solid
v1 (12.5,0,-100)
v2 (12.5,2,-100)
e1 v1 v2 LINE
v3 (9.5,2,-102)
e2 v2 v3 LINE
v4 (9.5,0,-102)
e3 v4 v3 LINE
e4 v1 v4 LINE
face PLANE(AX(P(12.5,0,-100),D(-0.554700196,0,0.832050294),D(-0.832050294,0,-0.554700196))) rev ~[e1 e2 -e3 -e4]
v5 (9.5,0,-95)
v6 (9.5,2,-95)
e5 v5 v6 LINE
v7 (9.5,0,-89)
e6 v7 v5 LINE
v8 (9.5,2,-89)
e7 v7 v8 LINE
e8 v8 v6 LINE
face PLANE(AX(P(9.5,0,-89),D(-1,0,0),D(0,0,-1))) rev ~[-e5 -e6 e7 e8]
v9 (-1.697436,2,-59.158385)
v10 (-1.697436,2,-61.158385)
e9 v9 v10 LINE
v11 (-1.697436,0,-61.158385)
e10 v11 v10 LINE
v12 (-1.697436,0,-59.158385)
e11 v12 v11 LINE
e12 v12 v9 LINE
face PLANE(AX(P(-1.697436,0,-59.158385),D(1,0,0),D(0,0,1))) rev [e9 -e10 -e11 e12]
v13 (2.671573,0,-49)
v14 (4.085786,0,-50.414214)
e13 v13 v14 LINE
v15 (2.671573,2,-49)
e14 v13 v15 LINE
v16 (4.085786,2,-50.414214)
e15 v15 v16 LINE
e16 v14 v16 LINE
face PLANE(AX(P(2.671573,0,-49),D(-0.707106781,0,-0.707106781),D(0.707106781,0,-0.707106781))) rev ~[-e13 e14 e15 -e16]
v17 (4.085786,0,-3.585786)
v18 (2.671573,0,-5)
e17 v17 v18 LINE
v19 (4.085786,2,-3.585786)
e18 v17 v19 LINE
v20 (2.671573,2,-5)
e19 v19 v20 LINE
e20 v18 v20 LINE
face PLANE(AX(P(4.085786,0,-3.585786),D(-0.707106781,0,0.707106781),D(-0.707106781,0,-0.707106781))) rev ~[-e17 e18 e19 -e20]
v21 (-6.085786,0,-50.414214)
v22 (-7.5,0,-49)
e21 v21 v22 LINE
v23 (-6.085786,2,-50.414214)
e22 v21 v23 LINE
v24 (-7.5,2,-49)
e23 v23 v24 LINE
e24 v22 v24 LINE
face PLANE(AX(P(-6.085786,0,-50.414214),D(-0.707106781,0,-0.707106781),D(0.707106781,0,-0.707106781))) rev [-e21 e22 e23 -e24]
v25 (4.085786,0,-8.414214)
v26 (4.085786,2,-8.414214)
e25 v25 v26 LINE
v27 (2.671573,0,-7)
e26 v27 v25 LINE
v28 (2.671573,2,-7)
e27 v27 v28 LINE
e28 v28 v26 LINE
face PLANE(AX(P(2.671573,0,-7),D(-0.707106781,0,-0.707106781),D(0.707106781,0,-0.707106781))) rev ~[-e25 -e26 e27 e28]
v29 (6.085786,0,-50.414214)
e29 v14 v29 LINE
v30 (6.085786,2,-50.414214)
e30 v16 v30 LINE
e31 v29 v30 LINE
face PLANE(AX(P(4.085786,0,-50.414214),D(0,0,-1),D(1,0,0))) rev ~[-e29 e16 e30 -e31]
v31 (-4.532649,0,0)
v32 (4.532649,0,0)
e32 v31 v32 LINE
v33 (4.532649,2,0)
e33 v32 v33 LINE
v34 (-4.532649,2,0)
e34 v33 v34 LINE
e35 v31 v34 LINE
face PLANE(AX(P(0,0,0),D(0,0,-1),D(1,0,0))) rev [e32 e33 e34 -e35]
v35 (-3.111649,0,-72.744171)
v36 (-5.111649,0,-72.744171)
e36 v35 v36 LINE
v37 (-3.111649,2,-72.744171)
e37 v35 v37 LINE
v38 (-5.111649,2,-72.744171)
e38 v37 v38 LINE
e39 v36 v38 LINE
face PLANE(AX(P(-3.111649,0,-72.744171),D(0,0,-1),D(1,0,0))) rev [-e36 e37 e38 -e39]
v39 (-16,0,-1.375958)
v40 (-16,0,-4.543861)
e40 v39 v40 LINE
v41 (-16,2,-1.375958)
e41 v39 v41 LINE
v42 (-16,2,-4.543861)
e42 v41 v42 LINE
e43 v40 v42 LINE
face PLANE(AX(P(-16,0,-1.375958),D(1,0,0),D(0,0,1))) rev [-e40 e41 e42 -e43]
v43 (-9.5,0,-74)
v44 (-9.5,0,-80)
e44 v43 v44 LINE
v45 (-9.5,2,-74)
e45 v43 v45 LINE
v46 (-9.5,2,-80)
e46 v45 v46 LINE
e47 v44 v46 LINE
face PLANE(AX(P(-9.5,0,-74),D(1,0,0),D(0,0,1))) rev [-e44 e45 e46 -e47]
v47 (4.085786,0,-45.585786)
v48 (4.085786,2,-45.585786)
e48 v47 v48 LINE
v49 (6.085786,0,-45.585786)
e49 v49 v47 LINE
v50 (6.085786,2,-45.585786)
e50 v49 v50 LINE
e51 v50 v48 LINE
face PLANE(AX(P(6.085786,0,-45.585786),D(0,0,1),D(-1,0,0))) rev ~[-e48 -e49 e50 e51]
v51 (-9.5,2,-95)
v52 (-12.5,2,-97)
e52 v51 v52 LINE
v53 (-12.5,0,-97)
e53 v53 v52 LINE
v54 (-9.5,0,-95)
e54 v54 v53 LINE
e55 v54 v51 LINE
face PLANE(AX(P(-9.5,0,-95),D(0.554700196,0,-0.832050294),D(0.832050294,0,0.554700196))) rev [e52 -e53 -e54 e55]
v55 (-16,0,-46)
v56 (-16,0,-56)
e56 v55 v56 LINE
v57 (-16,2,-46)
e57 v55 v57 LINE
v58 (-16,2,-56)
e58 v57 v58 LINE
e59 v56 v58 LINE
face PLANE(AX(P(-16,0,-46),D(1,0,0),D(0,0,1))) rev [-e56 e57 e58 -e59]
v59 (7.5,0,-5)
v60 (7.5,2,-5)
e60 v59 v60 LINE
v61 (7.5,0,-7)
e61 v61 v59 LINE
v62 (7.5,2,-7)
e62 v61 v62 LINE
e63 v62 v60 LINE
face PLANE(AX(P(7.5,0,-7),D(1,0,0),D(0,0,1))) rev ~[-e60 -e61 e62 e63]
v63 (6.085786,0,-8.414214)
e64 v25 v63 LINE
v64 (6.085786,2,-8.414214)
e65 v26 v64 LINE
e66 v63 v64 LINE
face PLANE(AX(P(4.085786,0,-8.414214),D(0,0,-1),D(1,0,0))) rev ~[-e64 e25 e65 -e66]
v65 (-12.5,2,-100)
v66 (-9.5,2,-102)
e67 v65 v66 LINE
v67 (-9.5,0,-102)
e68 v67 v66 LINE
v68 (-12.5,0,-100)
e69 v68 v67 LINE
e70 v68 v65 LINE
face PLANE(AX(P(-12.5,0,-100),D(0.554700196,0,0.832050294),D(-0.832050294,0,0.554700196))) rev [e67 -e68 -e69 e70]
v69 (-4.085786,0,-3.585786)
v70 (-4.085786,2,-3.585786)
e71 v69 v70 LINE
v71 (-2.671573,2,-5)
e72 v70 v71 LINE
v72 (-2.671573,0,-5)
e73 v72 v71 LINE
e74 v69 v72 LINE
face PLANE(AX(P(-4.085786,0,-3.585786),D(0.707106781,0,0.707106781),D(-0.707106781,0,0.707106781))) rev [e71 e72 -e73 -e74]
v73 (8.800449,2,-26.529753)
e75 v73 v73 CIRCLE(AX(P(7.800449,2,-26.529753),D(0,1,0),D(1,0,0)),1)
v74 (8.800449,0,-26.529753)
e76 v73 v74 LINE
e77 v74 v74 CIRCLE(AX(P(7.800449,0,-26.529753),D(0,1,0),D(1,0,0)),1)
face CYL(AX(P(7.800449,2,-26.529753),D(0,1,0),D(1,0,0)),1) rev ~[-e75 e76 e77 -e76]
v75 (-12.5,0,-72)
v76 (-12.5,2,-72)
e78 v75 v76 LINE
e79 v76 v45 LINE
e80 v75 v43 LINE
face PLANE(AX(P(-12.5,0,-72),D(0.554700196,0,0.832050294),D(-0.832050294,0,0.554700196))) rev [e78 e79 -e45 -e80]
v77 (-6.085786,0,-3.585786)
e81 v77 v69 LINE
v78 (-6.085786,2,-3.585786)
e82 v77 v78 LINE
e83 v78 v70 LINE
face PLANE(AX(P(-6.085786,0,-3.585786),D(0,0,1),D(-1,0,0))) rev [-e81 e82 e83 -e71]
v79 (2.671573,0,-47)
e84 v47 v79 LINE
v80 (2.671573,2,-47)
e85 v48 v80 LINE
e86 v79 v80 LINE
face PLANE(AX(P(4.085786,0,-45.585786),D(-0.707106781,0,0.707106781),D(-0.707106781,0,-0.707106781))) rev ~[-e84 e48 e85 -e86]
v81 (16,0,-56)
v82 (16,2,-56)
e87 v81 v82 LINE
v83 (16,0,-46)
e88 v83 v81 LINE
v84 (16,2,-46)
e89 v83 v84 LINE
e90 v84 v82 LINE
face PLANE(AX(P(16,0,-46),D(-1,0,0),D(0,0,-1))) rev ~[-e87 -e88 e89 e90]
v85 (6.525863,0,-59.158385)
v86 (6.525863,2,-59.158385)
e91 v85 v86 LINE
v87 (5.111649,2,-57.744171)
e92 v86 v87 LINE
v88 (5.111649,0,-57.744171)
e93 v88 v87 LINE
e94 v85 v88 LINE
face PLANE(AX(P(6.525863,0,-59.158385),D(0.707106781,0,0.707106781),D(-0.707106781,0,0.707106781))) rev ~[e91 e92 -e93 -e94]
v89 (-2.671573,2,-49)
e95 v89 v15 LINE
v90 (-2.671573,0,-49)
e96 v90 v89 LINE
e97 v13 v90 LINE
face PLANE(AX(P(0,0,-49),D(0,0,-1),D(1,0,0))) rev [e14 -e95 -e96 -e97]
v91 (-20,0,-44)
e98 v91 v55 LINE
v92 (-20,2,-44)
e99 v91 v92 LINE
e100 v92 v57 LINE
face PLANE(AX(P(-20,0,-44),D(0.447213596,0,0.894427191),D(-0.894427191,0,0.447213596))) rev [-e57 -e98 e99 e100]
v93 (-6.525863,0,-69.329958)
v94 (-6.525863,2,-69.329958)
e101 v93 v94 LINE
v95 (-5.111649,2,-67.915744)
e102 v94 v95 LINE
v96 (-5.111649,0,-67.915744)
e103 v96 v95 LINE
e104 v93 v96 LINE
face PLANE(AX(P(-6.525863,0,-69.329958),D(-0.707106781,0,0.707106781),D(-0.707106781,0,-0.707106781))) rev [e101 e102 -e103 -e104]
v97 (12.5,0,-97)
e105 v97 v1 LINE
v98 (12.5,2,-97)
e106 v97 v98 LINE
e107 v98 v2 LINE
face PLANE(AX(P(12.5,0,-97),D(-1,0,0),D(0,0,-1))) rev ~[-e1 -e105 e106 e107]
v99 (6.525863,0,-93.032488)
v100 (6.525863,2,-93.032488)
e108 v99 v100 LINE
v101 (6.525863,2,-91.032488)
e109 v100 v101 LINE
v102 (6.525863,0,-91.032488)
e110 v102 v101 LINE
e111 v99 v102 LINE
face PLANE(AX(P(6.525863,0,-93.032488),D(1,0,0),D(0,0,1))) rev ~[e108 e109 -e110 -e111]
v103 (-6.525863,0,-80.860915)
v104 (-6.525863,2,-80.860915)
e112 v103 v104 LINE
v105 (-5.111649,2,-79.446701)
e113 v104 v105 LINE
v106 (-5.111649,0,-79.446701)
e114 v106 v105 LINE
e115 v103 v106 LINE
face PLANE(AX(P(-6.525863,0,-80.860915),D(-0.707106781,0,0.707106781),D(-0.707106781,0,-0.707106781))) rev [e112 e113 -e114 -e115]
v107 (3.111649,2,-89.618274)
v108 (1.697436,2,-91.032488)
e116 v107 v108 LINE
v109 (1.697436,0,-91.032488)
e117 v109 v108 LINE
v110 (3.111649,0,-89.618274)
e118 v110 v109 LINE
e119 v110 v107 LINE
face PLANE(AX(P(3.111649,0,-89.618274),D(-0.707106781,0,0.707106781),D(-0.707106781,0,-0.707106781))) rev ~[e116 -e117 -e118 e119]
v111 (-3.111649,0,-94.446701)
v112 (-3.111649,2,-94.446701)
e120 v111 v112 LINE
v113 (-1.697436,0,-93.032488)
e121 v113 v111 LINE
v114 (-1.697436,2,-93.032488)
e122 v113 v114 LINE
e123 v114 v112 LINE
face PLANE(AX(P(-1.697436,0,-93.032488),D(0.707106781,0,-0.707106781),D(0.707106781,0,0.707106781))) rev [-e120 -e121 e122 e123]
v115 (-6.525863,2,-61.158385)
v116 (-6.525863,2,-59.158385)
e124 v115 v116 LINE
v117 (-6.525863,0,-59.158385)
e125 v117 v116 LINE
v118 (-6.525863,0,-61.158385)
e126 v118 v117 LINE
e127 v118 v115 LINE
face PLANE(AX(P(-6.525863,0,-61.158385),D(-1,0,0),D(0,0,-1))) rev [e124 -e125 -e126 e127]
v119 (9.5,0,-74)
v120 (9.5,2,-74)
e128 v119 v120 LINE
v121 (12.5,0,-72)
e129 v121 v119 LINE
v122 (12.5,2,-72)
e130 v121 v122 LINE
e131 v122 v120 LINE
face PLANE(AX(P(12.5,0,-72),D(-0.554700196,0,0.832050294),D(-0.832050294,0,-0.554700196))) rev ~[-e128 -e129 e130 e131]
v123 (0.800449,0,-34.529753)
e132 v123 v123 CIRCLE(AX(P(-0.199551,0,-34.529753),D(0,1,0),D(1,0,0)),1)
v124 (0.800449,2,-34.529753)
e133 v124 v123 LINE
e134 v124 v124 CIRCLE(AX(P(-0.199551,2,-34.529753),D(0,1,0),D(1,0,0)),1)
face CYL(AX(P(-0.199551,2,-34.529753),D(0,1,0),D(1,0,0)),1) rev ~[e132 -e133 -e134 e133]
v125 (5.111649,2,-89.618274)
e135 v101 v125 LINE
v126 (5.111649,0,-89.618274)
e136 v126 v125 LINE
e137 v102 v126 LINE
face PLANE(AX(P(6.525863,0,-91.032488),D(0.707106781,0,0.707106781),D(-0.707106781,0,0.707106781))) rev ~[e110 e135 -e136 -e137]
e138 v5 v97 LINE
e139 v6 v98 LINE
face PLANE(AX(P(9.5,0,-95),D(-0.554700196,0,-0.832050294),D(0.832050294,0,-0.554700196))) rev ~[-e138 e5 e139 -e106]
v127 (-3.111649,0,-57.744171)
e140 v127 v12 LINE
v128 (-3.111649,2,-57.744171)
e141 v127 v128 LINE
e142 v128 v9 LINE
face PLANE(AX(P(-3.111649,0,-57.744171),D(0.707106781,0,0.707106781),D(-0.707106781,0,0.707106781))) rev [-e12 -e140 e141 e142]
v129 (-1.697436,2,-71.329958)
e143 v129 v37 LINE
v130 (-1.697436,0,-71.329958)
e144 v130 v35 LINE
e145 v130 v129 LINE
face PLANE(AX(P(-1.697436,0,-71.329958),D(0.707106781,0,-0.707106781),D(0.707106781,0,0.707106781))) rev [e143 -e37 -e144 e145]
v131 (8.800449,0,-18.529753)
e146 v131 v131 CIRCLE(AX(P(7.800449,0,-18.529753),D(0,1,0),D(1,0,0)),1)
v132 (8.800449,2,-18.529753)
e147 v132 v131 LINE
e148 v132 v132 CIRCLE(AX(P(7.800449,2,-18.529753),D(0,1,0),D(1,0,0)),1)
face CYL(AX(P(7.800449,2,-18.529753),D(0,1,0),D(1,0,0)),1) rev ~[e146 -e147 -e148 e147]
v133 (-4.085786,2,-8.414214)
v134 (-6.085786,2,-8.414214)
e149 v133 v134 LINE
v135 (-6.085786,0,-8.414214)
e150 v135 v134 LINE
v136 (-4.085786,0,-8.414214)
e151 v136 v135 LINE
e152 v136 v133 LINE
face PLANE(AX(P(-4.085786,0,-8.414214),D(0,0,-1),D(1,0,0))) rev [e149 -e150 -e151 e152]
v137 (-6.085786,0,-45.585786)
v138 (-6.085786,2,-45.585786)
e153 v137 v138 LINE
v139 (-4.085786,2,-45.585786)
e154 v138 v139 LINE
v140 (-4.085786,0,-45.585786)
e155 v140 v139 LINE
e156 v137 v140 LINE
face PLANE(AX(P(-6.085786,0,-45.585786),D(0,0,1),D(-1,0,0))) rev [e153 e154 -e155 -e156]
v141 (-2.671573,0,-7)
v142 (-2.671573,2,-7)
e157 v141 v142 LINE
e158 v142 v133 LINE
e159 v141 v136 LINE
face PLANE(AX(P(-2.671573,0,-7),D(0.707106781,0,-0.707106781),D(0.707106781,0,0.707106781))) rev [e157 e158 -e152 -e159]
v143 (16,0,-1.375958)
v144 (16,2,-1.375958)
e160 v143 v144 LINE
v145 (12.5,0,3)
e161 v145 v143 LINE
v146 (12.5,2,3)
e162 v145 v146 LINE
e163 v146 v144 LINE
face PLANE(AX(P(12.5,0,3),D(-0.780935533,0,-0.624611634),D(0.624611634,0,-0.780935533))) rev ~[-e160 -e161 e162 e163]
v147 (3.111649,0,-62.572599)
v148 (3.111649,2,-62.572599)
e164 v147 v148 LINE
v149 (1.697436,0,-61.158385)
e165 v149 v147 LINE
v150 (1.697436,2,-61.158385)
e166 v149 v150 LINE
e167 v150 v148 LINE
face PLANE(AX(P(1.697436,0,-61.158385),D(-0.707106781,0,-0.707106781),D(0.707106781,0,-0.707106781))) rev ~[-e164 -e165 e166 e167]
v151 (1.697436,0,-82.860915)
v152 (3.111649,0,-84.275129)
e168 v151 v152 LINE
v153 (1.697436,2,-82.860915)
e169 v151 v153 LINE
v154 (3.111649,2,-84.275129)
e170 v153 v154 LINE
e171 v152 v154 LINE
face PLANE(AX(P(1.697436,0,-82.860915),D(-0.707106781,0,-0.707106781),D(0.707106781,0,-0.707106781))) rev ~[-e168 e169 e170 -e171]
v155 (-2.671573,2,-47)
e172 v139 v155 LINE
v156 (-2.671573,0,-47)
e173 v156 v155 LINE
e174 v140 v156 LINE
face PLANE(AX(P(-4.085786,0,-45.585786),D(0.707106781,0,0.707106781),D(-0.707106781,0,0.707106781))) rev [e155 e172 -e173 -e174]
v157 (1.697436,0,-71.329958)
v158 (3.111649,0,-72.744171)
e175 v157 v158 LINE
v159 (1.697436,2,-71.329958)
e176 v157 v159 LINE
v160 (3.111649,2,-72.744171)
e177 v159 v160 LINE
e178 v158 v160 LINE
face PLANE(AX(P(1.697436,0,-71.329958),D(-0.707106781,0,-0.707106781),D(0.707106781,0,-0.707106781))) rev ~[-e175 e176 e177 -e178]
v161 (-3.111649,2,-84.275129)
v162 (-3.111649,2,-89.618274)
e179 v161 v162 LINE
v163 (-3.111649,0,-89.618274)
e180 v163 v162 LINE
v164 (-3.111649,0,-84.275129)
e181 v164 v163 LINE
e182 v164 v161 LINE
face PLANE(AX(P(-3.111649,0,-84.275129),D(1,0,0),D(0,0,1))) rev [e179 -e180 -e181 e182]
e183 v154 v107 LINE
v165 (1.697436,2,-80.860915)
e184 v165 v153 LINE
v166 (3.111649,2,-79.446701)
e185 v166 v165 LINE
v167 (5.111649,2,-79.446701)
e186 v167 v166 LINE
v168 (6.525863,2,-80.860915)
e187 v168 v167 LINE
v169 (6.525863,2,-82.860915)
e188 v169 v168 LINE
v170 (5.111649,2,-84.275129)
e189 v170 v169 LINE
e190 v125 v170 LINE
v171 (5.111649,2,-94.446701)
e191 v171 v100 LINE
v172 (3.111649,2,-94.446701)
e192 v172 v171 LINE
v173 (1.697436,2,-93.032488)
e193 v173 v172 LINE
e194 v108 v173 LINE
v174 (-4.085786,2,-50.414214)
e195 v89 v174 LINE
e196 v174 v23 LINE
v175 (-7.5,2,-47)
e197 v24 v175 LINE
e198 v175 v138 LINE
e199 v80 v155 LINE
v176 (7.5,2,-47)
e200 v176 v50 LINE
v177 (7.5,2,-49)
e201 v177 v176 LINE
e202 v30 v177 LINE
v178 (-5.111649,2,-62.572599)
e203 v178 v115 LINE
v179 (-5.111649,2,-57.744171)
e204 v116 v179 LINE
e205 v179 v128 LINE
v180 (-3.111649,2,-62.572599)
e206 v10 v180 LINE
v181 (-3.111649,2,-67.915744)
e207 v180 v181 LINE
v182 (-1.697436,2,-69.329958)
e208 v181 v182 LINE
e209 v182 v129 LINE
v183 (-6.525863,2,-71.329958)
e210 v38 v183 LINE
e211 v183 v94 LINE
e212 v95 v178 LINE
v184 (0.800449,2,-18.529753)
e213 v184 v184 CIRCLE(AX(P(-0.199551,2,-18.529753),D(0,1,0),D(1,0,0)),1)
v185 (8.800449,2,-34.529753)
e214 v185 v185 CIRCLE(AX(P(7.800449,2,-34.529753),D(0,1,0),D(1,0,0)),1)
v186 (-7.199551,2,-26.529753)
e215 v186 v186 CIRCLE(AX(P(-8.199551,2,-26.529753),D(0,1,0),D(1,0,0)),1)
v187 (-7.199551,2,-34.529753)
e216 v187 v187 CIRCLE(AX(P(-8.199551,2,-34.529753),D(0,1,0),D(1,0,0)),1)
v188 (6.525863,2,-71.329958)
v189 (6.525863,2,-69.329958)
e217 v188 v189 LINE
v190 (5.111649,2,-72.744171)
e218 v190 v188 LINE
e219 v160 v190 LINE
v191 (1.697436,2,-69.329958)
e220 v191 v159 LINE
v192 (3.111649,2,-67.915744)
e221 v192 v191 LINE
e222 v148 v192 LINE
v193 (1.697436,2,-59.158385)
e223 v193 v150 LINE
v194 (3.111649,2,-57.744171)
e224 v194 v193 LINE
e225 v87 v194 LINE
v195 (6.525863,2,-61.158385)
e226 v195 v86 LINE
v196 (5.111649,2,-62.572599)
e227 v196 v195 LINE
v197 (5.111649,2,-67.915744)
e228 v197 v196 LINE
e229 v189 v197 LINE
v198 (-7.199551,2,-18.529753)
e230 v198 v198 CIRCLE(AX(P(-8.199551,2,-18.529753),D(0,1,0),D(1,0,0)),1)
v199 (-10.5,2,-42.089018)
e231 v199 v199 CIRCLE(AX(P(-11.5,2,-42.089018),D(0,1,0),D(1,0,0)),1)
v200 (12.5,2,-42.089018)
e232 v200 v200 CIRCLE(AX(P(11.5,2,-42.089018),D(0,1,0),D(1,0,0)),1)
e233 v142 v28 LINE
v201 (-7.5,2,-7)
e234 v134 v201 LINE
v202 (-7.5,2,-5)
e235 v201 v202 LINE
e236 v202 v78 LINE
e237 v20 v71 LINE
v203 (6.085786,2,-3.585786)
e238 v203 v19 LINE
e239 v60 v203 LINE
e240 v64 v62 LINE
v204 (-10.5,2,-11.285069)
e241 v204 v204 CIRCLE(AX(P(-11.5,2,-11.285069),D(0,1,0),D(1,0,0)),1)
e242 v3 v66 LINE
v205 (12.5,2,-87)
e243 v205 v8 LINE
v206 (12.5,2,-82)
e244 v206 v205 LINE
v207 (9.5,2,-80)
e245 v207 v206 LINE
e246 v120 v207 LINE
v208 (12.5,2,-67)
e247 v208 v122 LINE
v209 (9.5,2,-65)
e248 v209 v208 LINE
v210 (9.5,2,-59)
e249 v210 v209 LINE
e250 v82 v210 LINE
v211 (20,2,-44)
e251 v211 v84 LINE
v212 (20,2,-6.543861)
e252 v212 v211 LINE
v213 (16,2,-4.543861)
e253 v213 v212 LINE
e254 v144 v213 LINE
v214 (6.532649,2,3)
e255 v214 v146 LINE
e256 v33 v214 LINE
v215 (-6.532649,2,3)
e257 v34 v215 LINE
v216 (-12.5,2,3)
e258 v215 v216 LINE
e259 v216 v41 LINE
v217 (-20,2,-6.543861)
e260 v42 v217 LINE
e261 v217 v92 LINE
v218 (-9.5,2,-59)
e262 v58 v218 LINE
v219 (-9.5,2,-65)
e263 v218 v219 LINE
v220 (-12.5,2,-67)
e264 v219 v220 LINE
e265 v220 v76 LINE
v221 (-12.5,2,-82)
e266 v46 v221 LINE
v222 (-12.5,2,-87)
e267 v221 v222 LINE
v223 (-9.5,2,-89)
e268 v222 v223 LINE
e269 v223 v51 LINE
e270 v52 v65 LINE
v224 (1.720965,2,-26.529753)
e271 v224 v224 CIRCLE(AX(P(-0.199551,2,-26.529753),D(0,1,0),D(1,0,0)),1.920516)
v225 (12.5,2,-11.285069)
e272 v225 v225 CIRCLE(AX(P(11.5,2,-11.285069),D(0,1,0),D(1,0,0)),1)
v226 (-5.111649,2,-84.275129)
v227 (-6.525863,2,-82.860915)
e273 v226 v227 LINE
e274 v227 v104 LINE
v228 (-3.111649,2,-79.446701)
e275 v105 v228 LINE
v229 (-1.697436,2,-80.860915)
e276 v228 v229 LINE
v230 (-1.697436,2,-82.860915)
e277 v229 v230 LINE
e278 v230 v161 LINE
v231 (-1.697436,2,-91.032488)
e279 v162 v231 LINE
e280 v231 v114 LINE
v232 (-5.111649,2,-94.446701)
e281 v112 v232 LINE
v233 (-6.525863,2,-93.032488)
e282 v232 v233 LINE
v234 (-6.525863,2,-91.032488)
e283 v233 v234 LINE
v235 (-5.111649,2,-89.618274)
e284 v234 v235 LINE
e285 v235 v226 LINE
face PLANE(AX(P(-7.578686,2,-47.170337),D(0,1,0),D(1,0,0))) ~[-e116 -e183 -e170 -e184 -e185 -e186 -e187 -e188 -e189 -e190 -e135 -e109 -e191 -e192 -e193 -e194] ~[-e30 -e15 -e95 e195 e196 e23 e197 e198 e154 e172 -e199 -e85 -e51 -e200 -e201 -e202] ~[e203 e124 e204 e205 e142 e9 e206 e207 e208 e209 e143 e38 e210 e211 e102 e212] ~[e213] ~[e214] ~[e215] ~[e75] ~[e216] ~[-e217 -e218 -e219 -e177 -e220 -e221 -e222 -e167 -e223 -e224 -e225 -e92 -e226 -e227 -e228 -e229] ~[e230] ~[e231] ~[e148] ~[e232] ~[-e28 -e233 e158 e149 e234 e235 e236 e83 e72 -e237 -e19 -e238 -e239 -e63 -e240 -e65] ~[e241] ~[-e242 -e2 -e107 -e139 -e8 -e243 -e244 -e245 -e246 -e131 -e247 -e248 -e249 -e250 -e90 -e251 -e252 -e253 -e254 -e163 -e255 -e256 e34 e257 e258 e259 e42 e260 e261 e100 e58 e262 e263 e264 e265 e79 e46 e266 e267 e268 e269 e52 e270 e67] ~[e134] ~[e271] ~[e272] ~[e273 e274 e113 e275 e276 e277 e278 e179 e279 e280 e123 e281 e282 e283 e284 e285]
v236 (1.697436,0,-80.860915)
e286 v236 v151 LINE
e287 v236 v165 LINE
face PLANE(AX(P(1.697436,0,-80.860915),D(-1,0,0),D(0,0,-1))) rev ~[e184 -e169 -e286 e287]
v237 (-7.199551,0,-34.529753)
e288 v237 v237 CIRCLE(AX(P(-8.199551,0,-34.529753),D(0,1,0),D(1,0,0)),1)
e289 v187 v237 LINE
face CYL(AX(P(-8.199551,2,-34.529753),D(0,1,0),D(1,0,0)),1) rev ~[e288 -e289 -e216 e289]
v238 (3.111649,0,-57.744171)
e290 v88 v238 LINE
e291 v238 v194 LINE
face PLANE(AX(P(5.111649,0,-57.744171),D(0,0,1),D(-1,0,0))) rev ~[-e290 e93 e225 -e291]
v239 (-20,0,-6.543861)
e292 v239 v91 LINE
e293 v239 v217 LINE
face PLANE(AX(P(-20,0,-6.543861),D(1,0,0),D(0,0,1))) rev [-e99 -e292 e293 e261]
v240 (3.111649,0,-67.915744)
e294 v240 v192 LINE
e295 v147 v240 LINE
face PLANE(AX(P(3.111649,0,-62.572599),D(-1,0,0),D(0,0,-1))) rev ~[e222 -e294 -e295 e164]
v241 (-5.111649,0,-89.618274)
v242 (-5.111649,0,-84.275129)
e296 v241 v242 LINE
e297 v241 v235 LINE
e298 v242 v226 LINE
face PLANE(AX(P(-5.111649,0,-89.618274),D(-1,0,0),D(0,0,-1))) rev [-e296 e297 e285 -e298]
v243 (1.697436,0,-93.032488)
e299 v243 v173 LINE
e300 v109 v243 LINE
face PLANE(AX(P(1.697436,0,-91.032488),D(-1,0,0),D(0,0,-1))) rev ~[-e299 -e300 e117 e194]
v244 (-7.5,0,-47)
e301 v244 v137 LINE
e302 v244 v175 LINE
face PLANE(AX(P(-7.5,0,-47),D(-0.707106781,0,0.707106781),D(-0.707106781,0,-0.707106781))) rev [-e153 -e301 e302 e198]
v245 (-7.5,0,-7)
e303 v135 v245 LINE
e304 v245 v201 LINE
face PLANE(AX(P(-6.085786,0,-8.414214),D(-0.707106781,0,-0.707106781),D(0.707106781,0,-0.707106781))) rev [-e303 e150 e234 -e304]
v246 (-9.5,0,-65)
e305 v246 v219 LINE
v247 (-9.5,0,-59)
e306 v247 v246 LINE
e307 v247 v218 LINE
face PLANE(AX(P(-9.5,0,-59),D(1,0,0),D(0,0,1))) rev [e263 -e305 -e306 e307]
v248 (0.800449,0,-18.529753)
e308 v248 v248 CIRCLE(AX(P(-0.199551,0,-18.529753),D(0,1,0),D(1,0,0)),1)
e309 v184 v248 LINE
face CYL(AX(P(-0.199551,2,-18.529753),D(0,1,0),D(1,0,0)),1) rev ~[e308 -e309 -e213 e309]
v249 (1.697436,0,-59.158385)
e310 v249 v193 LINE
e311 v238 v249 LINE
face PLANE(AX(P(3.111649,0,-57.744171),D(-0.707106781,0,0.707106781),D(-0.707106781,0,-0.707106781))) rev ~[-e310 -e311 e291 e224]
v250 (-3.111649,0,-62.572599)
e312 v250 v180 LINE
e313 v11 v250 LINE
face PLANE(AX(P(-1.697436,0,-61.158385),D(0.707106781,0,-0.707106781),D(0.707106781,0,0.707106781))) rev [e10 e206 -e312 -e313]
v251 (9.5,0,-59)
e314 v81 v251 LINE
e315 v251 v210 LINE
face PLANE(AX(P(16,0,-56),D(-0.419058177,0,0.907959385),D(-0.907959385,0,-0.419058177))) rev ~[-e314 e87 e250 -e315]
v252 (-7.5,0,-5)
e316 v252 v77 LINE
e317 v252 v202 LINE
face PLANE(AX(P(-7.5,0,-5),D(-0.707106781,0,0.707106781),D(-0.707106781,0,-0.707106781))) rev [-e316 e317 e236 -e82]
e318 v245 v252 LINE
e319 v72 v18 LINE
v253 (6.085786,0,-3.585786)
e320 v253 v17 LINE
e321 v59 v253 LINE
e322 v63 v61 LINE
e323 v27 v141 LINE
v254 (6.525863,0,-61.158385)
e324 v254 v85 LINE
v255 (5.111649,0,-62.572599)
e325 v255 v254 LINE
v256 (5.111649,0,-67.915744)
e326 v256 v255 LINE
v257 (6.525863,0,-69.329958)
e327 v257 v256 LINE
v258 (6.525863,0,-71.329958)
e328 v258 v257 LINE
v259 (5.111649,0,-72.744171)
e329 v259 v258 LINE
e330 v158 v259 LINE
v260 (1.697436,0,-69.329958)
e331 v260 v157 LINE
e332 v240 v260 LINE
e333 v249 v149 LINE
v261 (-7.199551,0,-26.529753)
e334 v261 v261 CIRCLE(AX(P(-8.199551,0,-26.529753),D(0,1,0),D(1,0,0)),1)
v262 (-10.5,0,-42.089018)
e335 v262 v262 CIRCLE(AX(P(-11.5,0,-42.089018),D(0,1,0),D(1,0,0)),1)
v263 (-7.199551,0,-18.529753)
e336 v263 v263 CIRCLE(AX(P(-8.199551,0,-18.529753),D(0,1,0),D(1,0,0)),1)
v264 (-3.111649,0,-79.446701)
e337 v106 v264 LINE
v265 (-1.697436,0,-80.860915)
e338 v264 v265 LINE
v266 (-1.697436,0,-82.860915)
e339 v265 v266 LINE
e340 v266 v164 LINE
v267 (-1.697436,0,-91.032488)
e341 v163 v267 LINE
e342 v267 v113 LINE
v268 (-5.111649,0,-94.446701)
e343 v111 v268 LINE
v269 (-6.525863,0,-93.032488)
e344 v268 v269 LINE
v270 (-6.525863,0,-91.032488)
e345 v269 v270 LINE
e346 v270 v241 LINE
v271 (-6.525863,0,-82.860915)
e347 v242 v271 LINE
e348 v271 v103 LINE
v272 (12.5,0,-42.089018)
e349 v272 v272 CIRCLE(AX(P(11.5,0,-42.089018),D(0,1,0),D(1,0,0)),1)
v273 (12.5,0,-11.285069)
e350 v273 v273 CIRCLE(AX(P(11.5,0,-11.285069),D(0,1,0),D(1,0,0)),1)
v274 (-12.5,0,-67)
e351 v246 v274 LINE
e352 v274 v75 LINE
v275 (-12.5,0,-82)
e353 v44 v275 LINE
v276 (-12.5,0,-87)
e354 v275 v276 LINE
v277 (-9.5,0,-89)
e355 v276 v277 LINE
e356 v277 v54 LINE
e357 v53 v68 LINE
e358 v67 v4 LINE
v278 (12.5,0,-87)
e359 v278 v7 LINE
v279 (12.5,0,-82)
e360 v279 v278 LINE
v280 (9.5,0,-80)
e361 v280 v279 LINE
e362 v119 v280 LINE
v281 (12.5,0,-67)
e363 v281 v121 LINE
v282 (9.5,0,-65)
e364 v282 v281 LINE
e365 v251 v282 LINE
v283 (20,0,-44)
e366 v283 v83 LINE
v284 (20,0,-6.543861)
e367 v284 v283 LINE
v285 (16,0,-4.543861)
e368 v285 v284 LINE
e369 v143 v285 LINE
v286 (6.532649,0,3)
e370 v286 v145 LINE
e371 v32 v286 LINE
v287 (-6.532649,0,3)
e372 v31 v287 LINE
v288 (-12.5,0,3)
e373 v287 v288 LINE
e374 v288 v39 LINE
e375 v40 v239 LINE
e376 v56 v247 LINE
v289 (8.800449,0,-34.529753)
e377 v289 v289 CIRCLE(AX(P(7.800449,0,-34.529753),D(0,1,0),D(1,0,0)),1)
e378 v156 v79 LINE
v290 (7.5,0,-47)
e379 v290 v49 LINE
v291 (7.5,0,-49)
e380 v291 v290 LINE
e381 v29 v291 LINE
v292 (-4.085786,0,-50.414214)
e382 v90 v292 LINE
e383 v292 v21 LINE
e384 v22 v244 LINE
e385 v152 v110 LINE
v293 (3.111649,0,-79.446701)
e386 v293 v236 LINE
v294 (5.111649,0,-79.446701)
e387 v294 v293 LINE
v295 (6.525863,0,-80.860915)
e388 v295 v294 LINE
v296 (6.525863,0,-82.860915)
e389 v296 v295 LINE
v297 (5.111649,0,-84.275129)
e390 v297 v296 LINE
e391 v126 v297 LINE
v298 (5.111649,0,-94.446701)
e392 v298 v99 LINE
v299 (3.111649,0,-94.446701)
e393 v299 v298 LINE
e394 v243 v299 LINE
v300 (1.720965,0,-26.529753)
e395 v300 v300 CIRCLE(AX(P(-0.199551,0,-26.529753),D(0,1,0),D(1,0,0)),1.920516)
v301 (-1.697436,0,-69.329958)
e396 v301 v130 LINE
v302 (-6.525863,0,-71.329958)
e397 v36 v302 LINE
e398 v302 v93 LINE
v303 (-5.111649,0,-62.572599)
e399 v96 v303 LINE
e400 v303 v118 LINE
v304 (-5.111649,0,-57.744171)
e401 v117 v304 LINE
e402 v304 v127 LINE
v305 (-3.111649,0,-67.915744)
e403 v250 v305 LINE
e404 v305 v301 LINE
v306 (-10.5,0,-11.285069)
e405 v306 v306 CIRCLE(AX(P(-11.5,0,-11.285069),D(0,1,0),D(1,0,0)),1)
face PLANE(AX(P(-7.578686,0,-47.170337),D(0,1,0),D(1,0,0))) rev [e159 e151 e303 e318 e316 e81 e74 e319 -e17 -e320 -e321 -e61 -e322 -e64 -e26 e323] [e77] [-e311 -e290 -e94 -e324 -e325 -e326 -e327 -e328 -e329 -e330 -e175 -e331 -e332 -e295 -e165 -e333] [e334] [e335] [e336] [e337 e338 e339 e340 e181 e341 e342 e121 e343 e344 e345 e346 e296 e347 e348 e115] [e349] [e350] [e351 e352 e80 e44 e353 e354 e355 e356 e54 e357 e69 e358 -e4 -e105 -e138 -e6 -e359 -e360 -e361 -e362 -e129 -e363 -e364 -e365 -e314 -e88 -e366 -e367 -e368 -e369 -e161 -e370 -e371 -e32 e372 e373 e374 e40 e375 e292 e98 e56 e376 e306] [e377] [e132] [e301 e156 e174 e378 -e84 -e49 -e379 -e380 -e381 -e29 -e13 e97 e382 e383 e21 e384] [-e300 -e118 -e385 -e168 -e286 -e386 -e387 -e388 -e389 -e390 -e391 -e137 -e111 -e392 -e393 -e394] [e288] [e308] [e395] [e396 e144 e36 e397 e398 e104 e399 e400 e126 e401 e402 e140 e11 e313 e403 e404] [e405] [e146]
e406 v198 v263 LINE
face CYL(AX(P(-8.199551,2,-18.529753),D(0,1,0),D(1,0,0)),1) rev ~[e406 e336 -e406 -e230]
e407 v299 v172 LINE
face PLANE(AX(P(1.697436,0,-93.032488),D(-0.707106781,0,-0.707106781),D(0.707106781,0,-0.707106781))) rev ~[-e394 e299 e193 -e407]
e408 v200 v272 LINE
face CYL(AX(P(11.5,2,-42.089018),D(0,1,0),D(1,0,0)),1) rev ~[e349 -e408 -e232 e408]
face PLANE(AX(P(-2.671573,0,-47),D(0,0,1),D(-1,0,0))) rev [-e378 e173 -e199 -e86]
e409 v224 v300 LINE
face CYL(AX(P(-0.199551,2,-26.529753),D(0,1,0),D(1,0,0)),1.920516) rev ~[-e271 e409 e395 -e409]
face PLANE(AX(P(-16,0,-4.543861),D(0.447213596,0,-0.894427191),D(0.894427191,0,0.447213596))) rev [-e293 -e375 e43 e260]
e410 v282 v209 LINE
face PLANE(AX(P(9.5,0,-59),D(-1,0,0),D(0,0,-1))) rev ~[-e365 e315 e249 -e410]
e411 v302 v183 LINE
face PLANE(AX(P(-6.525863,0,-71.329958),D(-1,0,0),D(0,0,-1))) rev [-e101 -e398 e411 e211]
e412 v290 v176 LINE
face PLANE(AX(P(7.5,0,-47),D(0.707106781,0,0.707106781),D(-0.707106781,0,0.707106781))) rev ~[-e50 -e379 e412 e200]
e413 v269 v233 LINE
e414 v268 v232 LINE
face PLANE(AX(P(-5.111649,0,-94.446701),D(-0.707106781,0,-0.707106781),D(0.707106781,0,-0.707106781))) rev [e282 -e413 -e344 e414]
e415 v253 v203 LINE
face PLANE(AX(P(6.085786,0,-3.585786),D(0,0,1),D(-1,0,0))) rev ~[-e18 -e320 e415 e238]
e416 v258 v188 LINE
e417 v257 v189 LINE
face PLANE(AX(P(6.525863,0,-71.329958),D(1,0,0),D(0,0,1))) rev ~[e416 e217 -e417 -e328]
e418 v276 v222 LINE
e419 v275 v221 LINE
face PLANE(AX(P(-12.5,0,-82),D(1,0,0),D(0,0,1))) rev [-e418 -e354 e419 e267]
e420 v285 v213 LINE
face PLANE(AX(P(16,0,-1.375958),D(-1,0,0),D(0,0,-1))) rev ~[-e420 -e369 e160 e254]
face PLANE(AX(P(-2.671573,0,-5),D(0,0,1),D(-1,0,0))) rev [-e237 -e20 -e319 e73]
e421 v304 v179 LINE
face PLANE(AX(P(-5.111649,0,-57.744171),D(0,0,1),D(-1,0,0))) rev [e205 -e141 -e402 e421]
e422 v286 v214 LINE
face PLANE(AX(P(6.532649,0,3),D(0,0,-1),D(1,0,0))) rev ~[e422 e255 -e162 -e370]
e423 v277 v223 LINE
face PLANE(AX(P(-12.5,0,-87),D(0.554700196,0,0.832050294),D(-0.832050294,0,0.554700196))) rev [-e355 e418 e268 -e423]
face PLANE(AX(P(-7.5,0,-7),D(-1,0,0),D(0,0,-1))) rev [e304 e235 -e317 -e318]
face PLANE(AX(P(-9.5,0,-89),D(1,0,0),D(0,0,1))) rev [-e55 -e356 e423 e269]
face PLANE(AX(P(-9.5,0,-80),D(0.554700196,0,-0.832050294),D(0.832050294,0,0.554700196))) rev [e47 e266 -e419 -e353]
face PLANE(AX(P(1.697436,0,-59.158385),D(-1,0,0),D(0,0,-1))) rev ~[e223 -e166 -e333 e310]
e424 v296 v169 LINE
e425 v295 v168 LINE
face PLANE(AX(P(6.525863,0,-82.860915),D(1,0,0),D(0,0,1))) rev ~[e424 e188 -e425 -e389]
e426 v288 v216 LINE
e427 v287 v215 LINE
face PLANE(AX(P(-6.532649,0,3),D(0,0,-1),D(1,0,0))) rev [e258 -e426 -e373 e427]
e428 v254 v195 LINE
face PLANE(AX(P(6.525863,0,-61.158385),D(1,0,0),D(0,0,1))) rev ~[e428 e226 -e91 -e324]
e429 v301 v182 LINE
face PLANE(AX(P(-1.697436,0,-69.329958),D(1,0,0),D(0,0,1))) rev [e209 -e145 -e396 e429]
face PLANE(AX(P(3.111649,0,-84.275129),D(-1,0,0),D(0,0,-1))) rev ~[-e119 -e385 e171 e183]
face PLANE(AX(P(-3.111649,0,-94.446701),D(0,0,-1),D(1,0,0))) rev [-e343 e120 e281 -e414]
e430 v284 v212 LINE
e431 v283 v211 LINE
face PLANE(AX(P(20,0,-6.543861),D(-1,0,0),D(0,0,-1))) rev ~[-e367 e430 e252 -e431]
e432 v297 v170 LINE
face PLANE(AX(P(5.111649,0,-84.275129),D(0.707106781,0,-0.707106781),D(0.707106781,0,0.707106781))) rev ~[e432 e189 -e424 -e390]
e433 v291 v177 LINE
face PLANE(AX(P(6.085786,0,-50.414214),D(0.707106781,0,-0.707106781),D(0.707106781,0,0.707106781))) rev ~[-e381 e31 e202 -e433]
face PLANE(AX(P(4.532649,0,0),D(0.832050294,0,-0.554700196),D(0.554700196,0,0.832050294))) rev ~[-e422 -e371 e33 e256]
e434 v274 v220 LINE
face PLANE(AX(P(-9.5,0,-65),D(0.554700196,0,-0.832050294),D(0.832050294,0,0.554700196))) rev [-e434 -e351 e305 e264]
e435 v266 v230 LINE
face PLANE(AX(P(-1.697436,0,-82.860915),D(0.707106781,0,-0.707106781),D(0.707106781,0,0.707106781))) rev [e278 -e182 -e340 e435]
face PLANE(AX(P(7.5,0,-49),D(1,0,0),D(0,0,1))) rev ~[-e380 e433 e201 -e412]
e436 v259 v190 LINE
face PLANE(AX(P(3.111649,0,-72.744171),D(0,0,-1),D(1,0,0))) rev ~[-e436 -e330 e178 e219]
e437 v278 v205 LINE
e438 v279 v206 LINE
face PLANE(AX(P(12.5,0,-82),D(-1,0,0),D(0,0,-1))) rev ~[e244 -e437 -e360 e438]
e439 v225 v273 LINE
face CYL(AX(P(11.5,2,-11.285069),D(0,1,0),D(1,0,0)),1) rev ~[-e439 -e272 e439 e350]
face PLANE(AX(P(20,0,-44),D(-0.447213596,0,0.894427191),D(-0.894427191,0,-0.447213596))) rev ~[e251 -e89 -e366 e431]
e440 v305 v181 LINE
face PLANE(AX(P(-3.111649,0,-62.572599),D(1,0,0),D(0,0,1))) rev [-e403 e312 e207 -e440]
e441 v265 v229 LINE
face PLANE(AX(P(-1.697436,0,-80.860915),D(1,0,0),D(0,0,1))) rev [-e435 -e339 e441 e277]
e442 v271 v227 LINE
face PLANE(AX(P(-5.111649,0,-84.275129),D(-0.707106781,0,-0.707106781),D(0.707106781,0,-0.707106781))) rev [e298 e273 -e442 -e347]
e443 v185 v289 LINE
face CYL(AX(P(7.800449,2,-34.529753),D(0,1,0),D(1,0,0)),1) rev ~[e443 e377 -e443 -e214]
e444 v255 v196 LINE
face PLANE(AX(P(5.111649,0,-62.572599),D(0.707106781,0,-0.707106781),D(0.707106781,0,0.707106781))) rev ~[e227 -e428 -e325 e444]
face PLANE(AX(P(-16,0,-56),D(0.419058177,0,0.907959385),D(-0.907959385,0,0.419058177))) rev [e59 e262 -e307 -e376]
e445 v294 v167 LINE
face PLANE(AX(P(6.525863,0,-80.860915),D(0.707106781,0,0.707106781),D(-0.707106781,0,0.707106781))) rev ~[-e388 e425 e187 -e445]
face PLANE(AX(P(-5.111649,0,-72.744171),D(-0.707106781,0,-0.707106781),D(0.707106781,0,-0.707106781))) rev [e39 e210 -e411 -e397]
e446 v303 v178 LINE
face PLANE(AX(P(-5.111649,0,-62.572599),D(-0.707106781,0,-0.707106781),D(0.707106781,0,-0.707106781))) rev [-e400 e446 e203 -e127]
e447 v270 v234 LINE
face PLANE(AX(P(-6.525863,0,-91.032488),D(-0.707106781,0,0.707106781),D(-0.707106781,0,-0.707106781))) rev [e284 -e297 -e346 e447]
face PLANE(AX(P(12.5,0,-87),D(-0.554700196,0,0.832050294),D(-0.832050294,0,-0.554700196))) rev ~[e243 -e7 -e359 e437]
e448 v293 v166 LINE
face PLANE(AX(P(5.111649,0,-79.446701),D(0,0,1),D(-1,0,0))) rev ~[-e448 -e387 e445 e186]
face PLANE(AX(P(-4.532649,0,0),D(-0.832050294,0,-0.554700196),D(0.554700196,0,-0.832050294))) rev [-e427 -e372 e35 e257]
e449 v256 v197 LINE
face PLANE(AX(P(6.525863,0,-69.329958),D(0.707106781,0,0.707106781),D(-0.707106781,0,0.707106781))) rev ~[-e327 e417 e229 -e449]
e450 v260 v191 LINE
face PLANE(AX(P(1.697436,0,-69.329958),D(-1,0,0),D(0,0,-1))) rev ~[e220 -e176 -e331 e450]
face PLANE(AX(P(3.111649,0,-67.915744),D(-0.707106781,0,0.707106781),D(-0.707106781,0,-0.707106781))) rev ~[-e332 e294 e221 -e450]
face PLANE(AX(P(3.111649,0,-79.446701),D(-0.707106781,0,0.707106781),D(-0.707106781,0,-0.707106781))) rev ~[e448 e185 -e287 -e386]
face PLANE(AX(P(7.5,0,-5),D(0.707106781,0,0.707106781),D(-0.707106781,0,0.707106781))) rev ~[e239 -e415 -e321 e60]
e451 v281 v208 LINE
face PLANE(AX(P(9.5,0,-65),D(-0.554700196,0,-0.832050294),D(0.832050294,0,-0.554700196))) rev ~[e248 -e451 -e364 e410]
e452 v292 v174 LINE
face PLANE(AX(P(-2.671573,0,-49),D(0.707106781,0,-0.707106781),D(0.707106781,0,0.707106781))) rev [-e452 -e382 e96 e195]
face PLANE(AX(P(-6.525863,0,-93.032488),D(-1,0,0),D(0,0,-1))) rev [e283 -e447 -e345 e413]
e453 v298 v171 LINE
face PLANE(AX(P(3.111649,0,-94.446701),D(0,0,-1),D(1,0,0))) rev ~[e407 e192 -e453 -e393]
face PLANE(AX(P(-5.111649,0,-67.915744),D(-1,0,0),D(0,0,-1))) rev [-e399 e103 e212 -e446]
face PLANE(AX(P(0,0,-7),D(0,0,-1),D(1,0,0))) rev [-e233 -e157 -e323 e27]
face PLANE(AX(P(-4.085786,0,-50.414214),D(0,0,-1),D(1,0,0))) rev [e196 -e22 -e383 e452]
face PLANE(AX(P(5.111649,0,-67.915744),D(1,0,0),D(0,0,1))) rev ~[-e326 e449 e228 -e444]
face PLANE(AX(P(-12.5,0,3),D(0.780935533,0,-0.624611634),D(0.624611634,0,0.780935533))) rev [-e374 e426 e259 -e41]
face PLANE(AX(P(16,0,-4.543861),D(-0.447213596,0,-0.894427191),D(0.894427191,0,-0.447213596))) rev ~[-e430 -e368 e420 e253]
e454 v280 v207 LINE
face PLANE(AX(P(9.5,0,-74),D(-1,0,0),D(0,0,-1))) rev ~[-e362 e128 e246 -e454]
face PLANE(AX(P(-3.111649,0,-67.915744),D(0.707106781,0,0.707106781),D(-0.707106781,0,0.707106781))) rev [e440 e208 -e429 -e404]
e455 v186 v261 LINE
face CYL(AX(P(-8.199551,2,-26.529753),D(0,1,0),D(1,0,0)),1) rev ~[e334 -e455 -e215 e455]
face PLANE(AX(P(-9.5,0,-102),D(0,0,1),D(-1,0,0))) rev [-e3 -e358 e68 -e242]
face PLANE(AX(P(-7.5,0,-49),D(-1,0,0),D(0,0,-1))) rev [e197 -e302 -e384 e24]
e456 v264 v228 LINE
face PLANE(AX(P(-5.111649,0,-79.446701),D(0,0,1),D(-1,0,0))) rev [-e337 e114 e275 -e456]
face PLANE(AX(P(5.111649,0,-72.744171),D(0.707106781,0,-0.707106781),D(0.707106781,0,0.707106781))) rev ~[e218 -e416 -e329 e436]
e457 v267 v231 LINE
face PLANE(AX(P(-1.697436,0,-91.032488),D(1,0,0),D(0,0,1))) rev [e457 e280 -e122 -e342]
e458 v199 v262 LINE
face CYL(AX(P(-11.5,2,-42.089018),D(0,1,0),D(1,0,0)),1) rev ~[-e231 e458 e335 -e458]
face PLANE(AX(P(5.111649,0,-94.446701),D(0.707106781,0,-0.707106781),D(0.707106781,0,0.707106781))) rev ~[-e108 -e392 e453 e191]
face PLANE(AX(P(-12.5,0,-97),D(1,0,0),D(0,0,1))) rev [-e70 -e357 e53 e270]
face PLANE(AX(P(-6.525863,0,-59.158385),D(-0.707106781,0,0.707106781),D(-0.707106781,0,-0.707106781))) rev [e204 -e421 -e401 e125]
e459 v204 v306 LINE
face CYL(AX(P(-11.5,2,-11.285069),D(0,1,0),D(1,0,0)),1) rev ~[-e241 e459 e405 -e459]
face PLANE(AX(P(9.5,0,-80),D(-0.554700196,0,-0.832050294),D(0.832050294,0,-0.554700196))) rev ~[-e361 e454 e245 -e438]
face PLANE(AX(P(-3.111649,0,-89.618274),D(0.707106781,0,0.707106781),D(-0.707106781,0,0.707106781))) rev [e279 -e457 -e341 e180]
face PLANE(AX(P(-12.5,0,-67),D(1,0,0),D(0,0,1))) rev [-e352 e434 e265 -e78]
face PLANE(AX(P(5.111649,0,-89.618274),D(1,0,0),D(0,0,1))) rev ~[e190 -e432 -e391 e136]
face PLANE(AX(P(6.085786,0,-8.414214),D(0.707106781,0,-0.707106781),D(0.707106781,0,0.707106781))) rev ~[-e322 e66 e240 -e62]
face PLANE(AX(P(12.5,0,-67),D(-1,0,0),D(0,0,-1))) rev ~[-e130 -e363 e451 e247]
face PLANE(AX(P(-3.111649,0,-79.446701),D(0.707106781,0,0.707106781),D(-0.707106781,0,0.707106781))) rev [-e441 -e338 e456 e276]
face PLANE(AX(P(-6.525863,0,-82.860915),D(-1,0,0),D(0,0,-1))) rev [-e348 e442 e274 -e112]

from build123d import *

# Parameters (mm, degrees)
BOSS_EXTRUDE1_DEPTH = 2
SKETCH2_R           = 1.92051595
SKETCH2_R_2         = 1
CUT_EXTRUDE1_DEPTH  = 10


with BuildPart() as part:
    # Sketch1 → Boss-Extrude1 (new body)
    with BuildSketch(Plane(origin=(0, 0, 0), x_dir=(1, 0, 0), z_dir=(0, 1, 0))):
        Polygon((0, 0), (4.532648702, 0), (6.532648702, -3), (12.5, -3), (16, 1.375958147), (16, 4.543860935), (20, 6.543860935), (20, 44), (16, 46), (16, 56), (9.5, 59), (9.5, 65), (12.5, 67), (12.5, 72), (9.5, 74), (9.5, 80), (12.5, 82), (12.5, 87), (9.5, 89), (9.5, 95), (12.5, 97), (12.5, 100), (9.5, 102), (0, 102), (0, 49), (2.671572875, 49), (4.085786438, 50.414213562), (6.085786438, 50.414213562), (7.5, 49), (7.5, 47), (6.085786438, 45.585786438), (4.085786438, 45.585786438), (2.671572875, 47), (0, 47), (0, 7), (2.671572875, 7), (4.085786438, 8.414213562), (6.085786438, 8.414213562), (7.5, 7), (7.5, 5), (6.085786438, 3.585786438), (4.085786438, 3.585786438), (2.671572875, 5), (0, 5), align=None)
        Polygon((3.111649133, 94.44670143), (5.111649133, 94.44670143), (6.525862696, 93.032487868), (6.525862696, 91.032487868), (5.111649133, 89.618274306), (5.111649133, 84.275128555), (6.525862696, 82.860914993), (6.525862696, 80.860914993), (5.111649133, 79.44670143), (3.111649133, 79.44670143), (1.697435571, 80.860914993), (1.697435571, 82.860914993), (3.111649133, 84.275128555), (3.111649133, 89.618274306), (1.697435571, 91.032487868), (1.697435571, 93.032487868), align=None, mode=Mode.SUBTRACT)
        Polygon((3.111649133, 72.74417146), (5.111649133, 72.74417146), (6.525862696, 71.329957898), (6.525862696, 69.329957898), (5.111649133, 67.915744336), (5.111649133, 62.572598585), (6.525862696, 61.158385023), (6.525862696, 59.158385023), (5.111649133, 57.74417146), (3.111649133, 57.74417146), (1.697435571, 59.158385023), (1.697435571, 61.158385023), (3.111649133, 62.572598585), (3.111649133, 67.915744336), (1.697435571, 69.329957898), (1.697435571, 71.329957898), align=None, mode=Mode.SUBTRACT)
    boss_extrude1 = extrude(amount=BOSS_EXTRUDE1_DEPTH)

    # Mirror1: Boss-Extrude1 across plane
    add(boss_extrude1.mirror(Plane(origin=(0, 0, 0), x_dir=(0, 0, 1), z_dir=(1, 0, 0))))

    # Sketch2 → Cut-Extrude1 (cut)
    with BuildSketch(Plane(origin=(0, 2, 0), x_dir=(1, 0, 0), z_dir=(0, 1, 0))):
        with Locations((-0.199550917, 26.529752726)):
            Circle(SKETCH2_R)
        with Locations((-8.199550917, 34.529752726)):
            Circle(SKETCH2_R_2)
        with Locations((-0.199550917, 34.529752726)):
            Circle(SKETCH2_R_2)
        with Locations((7.800449083, 34.529752726)):
            Circle(SKETCH2_R_2)
        with Locations((7.800449083, 26.529752726)):
            Circle(SKETCH2_R_2)
        with Locations((7.800449083, 18.529752726)):
            Circle(SKETCH2_R_2)
        with Locations((-0.199550917, 18.529752726)):
            Circle(SKETCH2_R_2)
        with Locations((-8.199550917, 18.529752726)):
            Circle(SKETCH2_R_2)
        with Locations((-8.199550917, 26.529752726)):
            Circle(SKETCH2_R_2)
        with Locations((-11.5, 42.089017941)):
            Circle(SKETCH2_R_2)
        with Locations((11.5, 42.089017941)):
            Circle(SKETCH2_R_2)
        with Locations((11.5, 11.285069421)):
            Circle(SKETCH2_R_2)
        with Locations((-11.5, 11.285069421)):
            Circle(SKETCH2_R_2)
    extrude(amount=-CUT_EXTRUDE1_DEPTH, mode=Mode.SUBTRACT)


solid = part.part
